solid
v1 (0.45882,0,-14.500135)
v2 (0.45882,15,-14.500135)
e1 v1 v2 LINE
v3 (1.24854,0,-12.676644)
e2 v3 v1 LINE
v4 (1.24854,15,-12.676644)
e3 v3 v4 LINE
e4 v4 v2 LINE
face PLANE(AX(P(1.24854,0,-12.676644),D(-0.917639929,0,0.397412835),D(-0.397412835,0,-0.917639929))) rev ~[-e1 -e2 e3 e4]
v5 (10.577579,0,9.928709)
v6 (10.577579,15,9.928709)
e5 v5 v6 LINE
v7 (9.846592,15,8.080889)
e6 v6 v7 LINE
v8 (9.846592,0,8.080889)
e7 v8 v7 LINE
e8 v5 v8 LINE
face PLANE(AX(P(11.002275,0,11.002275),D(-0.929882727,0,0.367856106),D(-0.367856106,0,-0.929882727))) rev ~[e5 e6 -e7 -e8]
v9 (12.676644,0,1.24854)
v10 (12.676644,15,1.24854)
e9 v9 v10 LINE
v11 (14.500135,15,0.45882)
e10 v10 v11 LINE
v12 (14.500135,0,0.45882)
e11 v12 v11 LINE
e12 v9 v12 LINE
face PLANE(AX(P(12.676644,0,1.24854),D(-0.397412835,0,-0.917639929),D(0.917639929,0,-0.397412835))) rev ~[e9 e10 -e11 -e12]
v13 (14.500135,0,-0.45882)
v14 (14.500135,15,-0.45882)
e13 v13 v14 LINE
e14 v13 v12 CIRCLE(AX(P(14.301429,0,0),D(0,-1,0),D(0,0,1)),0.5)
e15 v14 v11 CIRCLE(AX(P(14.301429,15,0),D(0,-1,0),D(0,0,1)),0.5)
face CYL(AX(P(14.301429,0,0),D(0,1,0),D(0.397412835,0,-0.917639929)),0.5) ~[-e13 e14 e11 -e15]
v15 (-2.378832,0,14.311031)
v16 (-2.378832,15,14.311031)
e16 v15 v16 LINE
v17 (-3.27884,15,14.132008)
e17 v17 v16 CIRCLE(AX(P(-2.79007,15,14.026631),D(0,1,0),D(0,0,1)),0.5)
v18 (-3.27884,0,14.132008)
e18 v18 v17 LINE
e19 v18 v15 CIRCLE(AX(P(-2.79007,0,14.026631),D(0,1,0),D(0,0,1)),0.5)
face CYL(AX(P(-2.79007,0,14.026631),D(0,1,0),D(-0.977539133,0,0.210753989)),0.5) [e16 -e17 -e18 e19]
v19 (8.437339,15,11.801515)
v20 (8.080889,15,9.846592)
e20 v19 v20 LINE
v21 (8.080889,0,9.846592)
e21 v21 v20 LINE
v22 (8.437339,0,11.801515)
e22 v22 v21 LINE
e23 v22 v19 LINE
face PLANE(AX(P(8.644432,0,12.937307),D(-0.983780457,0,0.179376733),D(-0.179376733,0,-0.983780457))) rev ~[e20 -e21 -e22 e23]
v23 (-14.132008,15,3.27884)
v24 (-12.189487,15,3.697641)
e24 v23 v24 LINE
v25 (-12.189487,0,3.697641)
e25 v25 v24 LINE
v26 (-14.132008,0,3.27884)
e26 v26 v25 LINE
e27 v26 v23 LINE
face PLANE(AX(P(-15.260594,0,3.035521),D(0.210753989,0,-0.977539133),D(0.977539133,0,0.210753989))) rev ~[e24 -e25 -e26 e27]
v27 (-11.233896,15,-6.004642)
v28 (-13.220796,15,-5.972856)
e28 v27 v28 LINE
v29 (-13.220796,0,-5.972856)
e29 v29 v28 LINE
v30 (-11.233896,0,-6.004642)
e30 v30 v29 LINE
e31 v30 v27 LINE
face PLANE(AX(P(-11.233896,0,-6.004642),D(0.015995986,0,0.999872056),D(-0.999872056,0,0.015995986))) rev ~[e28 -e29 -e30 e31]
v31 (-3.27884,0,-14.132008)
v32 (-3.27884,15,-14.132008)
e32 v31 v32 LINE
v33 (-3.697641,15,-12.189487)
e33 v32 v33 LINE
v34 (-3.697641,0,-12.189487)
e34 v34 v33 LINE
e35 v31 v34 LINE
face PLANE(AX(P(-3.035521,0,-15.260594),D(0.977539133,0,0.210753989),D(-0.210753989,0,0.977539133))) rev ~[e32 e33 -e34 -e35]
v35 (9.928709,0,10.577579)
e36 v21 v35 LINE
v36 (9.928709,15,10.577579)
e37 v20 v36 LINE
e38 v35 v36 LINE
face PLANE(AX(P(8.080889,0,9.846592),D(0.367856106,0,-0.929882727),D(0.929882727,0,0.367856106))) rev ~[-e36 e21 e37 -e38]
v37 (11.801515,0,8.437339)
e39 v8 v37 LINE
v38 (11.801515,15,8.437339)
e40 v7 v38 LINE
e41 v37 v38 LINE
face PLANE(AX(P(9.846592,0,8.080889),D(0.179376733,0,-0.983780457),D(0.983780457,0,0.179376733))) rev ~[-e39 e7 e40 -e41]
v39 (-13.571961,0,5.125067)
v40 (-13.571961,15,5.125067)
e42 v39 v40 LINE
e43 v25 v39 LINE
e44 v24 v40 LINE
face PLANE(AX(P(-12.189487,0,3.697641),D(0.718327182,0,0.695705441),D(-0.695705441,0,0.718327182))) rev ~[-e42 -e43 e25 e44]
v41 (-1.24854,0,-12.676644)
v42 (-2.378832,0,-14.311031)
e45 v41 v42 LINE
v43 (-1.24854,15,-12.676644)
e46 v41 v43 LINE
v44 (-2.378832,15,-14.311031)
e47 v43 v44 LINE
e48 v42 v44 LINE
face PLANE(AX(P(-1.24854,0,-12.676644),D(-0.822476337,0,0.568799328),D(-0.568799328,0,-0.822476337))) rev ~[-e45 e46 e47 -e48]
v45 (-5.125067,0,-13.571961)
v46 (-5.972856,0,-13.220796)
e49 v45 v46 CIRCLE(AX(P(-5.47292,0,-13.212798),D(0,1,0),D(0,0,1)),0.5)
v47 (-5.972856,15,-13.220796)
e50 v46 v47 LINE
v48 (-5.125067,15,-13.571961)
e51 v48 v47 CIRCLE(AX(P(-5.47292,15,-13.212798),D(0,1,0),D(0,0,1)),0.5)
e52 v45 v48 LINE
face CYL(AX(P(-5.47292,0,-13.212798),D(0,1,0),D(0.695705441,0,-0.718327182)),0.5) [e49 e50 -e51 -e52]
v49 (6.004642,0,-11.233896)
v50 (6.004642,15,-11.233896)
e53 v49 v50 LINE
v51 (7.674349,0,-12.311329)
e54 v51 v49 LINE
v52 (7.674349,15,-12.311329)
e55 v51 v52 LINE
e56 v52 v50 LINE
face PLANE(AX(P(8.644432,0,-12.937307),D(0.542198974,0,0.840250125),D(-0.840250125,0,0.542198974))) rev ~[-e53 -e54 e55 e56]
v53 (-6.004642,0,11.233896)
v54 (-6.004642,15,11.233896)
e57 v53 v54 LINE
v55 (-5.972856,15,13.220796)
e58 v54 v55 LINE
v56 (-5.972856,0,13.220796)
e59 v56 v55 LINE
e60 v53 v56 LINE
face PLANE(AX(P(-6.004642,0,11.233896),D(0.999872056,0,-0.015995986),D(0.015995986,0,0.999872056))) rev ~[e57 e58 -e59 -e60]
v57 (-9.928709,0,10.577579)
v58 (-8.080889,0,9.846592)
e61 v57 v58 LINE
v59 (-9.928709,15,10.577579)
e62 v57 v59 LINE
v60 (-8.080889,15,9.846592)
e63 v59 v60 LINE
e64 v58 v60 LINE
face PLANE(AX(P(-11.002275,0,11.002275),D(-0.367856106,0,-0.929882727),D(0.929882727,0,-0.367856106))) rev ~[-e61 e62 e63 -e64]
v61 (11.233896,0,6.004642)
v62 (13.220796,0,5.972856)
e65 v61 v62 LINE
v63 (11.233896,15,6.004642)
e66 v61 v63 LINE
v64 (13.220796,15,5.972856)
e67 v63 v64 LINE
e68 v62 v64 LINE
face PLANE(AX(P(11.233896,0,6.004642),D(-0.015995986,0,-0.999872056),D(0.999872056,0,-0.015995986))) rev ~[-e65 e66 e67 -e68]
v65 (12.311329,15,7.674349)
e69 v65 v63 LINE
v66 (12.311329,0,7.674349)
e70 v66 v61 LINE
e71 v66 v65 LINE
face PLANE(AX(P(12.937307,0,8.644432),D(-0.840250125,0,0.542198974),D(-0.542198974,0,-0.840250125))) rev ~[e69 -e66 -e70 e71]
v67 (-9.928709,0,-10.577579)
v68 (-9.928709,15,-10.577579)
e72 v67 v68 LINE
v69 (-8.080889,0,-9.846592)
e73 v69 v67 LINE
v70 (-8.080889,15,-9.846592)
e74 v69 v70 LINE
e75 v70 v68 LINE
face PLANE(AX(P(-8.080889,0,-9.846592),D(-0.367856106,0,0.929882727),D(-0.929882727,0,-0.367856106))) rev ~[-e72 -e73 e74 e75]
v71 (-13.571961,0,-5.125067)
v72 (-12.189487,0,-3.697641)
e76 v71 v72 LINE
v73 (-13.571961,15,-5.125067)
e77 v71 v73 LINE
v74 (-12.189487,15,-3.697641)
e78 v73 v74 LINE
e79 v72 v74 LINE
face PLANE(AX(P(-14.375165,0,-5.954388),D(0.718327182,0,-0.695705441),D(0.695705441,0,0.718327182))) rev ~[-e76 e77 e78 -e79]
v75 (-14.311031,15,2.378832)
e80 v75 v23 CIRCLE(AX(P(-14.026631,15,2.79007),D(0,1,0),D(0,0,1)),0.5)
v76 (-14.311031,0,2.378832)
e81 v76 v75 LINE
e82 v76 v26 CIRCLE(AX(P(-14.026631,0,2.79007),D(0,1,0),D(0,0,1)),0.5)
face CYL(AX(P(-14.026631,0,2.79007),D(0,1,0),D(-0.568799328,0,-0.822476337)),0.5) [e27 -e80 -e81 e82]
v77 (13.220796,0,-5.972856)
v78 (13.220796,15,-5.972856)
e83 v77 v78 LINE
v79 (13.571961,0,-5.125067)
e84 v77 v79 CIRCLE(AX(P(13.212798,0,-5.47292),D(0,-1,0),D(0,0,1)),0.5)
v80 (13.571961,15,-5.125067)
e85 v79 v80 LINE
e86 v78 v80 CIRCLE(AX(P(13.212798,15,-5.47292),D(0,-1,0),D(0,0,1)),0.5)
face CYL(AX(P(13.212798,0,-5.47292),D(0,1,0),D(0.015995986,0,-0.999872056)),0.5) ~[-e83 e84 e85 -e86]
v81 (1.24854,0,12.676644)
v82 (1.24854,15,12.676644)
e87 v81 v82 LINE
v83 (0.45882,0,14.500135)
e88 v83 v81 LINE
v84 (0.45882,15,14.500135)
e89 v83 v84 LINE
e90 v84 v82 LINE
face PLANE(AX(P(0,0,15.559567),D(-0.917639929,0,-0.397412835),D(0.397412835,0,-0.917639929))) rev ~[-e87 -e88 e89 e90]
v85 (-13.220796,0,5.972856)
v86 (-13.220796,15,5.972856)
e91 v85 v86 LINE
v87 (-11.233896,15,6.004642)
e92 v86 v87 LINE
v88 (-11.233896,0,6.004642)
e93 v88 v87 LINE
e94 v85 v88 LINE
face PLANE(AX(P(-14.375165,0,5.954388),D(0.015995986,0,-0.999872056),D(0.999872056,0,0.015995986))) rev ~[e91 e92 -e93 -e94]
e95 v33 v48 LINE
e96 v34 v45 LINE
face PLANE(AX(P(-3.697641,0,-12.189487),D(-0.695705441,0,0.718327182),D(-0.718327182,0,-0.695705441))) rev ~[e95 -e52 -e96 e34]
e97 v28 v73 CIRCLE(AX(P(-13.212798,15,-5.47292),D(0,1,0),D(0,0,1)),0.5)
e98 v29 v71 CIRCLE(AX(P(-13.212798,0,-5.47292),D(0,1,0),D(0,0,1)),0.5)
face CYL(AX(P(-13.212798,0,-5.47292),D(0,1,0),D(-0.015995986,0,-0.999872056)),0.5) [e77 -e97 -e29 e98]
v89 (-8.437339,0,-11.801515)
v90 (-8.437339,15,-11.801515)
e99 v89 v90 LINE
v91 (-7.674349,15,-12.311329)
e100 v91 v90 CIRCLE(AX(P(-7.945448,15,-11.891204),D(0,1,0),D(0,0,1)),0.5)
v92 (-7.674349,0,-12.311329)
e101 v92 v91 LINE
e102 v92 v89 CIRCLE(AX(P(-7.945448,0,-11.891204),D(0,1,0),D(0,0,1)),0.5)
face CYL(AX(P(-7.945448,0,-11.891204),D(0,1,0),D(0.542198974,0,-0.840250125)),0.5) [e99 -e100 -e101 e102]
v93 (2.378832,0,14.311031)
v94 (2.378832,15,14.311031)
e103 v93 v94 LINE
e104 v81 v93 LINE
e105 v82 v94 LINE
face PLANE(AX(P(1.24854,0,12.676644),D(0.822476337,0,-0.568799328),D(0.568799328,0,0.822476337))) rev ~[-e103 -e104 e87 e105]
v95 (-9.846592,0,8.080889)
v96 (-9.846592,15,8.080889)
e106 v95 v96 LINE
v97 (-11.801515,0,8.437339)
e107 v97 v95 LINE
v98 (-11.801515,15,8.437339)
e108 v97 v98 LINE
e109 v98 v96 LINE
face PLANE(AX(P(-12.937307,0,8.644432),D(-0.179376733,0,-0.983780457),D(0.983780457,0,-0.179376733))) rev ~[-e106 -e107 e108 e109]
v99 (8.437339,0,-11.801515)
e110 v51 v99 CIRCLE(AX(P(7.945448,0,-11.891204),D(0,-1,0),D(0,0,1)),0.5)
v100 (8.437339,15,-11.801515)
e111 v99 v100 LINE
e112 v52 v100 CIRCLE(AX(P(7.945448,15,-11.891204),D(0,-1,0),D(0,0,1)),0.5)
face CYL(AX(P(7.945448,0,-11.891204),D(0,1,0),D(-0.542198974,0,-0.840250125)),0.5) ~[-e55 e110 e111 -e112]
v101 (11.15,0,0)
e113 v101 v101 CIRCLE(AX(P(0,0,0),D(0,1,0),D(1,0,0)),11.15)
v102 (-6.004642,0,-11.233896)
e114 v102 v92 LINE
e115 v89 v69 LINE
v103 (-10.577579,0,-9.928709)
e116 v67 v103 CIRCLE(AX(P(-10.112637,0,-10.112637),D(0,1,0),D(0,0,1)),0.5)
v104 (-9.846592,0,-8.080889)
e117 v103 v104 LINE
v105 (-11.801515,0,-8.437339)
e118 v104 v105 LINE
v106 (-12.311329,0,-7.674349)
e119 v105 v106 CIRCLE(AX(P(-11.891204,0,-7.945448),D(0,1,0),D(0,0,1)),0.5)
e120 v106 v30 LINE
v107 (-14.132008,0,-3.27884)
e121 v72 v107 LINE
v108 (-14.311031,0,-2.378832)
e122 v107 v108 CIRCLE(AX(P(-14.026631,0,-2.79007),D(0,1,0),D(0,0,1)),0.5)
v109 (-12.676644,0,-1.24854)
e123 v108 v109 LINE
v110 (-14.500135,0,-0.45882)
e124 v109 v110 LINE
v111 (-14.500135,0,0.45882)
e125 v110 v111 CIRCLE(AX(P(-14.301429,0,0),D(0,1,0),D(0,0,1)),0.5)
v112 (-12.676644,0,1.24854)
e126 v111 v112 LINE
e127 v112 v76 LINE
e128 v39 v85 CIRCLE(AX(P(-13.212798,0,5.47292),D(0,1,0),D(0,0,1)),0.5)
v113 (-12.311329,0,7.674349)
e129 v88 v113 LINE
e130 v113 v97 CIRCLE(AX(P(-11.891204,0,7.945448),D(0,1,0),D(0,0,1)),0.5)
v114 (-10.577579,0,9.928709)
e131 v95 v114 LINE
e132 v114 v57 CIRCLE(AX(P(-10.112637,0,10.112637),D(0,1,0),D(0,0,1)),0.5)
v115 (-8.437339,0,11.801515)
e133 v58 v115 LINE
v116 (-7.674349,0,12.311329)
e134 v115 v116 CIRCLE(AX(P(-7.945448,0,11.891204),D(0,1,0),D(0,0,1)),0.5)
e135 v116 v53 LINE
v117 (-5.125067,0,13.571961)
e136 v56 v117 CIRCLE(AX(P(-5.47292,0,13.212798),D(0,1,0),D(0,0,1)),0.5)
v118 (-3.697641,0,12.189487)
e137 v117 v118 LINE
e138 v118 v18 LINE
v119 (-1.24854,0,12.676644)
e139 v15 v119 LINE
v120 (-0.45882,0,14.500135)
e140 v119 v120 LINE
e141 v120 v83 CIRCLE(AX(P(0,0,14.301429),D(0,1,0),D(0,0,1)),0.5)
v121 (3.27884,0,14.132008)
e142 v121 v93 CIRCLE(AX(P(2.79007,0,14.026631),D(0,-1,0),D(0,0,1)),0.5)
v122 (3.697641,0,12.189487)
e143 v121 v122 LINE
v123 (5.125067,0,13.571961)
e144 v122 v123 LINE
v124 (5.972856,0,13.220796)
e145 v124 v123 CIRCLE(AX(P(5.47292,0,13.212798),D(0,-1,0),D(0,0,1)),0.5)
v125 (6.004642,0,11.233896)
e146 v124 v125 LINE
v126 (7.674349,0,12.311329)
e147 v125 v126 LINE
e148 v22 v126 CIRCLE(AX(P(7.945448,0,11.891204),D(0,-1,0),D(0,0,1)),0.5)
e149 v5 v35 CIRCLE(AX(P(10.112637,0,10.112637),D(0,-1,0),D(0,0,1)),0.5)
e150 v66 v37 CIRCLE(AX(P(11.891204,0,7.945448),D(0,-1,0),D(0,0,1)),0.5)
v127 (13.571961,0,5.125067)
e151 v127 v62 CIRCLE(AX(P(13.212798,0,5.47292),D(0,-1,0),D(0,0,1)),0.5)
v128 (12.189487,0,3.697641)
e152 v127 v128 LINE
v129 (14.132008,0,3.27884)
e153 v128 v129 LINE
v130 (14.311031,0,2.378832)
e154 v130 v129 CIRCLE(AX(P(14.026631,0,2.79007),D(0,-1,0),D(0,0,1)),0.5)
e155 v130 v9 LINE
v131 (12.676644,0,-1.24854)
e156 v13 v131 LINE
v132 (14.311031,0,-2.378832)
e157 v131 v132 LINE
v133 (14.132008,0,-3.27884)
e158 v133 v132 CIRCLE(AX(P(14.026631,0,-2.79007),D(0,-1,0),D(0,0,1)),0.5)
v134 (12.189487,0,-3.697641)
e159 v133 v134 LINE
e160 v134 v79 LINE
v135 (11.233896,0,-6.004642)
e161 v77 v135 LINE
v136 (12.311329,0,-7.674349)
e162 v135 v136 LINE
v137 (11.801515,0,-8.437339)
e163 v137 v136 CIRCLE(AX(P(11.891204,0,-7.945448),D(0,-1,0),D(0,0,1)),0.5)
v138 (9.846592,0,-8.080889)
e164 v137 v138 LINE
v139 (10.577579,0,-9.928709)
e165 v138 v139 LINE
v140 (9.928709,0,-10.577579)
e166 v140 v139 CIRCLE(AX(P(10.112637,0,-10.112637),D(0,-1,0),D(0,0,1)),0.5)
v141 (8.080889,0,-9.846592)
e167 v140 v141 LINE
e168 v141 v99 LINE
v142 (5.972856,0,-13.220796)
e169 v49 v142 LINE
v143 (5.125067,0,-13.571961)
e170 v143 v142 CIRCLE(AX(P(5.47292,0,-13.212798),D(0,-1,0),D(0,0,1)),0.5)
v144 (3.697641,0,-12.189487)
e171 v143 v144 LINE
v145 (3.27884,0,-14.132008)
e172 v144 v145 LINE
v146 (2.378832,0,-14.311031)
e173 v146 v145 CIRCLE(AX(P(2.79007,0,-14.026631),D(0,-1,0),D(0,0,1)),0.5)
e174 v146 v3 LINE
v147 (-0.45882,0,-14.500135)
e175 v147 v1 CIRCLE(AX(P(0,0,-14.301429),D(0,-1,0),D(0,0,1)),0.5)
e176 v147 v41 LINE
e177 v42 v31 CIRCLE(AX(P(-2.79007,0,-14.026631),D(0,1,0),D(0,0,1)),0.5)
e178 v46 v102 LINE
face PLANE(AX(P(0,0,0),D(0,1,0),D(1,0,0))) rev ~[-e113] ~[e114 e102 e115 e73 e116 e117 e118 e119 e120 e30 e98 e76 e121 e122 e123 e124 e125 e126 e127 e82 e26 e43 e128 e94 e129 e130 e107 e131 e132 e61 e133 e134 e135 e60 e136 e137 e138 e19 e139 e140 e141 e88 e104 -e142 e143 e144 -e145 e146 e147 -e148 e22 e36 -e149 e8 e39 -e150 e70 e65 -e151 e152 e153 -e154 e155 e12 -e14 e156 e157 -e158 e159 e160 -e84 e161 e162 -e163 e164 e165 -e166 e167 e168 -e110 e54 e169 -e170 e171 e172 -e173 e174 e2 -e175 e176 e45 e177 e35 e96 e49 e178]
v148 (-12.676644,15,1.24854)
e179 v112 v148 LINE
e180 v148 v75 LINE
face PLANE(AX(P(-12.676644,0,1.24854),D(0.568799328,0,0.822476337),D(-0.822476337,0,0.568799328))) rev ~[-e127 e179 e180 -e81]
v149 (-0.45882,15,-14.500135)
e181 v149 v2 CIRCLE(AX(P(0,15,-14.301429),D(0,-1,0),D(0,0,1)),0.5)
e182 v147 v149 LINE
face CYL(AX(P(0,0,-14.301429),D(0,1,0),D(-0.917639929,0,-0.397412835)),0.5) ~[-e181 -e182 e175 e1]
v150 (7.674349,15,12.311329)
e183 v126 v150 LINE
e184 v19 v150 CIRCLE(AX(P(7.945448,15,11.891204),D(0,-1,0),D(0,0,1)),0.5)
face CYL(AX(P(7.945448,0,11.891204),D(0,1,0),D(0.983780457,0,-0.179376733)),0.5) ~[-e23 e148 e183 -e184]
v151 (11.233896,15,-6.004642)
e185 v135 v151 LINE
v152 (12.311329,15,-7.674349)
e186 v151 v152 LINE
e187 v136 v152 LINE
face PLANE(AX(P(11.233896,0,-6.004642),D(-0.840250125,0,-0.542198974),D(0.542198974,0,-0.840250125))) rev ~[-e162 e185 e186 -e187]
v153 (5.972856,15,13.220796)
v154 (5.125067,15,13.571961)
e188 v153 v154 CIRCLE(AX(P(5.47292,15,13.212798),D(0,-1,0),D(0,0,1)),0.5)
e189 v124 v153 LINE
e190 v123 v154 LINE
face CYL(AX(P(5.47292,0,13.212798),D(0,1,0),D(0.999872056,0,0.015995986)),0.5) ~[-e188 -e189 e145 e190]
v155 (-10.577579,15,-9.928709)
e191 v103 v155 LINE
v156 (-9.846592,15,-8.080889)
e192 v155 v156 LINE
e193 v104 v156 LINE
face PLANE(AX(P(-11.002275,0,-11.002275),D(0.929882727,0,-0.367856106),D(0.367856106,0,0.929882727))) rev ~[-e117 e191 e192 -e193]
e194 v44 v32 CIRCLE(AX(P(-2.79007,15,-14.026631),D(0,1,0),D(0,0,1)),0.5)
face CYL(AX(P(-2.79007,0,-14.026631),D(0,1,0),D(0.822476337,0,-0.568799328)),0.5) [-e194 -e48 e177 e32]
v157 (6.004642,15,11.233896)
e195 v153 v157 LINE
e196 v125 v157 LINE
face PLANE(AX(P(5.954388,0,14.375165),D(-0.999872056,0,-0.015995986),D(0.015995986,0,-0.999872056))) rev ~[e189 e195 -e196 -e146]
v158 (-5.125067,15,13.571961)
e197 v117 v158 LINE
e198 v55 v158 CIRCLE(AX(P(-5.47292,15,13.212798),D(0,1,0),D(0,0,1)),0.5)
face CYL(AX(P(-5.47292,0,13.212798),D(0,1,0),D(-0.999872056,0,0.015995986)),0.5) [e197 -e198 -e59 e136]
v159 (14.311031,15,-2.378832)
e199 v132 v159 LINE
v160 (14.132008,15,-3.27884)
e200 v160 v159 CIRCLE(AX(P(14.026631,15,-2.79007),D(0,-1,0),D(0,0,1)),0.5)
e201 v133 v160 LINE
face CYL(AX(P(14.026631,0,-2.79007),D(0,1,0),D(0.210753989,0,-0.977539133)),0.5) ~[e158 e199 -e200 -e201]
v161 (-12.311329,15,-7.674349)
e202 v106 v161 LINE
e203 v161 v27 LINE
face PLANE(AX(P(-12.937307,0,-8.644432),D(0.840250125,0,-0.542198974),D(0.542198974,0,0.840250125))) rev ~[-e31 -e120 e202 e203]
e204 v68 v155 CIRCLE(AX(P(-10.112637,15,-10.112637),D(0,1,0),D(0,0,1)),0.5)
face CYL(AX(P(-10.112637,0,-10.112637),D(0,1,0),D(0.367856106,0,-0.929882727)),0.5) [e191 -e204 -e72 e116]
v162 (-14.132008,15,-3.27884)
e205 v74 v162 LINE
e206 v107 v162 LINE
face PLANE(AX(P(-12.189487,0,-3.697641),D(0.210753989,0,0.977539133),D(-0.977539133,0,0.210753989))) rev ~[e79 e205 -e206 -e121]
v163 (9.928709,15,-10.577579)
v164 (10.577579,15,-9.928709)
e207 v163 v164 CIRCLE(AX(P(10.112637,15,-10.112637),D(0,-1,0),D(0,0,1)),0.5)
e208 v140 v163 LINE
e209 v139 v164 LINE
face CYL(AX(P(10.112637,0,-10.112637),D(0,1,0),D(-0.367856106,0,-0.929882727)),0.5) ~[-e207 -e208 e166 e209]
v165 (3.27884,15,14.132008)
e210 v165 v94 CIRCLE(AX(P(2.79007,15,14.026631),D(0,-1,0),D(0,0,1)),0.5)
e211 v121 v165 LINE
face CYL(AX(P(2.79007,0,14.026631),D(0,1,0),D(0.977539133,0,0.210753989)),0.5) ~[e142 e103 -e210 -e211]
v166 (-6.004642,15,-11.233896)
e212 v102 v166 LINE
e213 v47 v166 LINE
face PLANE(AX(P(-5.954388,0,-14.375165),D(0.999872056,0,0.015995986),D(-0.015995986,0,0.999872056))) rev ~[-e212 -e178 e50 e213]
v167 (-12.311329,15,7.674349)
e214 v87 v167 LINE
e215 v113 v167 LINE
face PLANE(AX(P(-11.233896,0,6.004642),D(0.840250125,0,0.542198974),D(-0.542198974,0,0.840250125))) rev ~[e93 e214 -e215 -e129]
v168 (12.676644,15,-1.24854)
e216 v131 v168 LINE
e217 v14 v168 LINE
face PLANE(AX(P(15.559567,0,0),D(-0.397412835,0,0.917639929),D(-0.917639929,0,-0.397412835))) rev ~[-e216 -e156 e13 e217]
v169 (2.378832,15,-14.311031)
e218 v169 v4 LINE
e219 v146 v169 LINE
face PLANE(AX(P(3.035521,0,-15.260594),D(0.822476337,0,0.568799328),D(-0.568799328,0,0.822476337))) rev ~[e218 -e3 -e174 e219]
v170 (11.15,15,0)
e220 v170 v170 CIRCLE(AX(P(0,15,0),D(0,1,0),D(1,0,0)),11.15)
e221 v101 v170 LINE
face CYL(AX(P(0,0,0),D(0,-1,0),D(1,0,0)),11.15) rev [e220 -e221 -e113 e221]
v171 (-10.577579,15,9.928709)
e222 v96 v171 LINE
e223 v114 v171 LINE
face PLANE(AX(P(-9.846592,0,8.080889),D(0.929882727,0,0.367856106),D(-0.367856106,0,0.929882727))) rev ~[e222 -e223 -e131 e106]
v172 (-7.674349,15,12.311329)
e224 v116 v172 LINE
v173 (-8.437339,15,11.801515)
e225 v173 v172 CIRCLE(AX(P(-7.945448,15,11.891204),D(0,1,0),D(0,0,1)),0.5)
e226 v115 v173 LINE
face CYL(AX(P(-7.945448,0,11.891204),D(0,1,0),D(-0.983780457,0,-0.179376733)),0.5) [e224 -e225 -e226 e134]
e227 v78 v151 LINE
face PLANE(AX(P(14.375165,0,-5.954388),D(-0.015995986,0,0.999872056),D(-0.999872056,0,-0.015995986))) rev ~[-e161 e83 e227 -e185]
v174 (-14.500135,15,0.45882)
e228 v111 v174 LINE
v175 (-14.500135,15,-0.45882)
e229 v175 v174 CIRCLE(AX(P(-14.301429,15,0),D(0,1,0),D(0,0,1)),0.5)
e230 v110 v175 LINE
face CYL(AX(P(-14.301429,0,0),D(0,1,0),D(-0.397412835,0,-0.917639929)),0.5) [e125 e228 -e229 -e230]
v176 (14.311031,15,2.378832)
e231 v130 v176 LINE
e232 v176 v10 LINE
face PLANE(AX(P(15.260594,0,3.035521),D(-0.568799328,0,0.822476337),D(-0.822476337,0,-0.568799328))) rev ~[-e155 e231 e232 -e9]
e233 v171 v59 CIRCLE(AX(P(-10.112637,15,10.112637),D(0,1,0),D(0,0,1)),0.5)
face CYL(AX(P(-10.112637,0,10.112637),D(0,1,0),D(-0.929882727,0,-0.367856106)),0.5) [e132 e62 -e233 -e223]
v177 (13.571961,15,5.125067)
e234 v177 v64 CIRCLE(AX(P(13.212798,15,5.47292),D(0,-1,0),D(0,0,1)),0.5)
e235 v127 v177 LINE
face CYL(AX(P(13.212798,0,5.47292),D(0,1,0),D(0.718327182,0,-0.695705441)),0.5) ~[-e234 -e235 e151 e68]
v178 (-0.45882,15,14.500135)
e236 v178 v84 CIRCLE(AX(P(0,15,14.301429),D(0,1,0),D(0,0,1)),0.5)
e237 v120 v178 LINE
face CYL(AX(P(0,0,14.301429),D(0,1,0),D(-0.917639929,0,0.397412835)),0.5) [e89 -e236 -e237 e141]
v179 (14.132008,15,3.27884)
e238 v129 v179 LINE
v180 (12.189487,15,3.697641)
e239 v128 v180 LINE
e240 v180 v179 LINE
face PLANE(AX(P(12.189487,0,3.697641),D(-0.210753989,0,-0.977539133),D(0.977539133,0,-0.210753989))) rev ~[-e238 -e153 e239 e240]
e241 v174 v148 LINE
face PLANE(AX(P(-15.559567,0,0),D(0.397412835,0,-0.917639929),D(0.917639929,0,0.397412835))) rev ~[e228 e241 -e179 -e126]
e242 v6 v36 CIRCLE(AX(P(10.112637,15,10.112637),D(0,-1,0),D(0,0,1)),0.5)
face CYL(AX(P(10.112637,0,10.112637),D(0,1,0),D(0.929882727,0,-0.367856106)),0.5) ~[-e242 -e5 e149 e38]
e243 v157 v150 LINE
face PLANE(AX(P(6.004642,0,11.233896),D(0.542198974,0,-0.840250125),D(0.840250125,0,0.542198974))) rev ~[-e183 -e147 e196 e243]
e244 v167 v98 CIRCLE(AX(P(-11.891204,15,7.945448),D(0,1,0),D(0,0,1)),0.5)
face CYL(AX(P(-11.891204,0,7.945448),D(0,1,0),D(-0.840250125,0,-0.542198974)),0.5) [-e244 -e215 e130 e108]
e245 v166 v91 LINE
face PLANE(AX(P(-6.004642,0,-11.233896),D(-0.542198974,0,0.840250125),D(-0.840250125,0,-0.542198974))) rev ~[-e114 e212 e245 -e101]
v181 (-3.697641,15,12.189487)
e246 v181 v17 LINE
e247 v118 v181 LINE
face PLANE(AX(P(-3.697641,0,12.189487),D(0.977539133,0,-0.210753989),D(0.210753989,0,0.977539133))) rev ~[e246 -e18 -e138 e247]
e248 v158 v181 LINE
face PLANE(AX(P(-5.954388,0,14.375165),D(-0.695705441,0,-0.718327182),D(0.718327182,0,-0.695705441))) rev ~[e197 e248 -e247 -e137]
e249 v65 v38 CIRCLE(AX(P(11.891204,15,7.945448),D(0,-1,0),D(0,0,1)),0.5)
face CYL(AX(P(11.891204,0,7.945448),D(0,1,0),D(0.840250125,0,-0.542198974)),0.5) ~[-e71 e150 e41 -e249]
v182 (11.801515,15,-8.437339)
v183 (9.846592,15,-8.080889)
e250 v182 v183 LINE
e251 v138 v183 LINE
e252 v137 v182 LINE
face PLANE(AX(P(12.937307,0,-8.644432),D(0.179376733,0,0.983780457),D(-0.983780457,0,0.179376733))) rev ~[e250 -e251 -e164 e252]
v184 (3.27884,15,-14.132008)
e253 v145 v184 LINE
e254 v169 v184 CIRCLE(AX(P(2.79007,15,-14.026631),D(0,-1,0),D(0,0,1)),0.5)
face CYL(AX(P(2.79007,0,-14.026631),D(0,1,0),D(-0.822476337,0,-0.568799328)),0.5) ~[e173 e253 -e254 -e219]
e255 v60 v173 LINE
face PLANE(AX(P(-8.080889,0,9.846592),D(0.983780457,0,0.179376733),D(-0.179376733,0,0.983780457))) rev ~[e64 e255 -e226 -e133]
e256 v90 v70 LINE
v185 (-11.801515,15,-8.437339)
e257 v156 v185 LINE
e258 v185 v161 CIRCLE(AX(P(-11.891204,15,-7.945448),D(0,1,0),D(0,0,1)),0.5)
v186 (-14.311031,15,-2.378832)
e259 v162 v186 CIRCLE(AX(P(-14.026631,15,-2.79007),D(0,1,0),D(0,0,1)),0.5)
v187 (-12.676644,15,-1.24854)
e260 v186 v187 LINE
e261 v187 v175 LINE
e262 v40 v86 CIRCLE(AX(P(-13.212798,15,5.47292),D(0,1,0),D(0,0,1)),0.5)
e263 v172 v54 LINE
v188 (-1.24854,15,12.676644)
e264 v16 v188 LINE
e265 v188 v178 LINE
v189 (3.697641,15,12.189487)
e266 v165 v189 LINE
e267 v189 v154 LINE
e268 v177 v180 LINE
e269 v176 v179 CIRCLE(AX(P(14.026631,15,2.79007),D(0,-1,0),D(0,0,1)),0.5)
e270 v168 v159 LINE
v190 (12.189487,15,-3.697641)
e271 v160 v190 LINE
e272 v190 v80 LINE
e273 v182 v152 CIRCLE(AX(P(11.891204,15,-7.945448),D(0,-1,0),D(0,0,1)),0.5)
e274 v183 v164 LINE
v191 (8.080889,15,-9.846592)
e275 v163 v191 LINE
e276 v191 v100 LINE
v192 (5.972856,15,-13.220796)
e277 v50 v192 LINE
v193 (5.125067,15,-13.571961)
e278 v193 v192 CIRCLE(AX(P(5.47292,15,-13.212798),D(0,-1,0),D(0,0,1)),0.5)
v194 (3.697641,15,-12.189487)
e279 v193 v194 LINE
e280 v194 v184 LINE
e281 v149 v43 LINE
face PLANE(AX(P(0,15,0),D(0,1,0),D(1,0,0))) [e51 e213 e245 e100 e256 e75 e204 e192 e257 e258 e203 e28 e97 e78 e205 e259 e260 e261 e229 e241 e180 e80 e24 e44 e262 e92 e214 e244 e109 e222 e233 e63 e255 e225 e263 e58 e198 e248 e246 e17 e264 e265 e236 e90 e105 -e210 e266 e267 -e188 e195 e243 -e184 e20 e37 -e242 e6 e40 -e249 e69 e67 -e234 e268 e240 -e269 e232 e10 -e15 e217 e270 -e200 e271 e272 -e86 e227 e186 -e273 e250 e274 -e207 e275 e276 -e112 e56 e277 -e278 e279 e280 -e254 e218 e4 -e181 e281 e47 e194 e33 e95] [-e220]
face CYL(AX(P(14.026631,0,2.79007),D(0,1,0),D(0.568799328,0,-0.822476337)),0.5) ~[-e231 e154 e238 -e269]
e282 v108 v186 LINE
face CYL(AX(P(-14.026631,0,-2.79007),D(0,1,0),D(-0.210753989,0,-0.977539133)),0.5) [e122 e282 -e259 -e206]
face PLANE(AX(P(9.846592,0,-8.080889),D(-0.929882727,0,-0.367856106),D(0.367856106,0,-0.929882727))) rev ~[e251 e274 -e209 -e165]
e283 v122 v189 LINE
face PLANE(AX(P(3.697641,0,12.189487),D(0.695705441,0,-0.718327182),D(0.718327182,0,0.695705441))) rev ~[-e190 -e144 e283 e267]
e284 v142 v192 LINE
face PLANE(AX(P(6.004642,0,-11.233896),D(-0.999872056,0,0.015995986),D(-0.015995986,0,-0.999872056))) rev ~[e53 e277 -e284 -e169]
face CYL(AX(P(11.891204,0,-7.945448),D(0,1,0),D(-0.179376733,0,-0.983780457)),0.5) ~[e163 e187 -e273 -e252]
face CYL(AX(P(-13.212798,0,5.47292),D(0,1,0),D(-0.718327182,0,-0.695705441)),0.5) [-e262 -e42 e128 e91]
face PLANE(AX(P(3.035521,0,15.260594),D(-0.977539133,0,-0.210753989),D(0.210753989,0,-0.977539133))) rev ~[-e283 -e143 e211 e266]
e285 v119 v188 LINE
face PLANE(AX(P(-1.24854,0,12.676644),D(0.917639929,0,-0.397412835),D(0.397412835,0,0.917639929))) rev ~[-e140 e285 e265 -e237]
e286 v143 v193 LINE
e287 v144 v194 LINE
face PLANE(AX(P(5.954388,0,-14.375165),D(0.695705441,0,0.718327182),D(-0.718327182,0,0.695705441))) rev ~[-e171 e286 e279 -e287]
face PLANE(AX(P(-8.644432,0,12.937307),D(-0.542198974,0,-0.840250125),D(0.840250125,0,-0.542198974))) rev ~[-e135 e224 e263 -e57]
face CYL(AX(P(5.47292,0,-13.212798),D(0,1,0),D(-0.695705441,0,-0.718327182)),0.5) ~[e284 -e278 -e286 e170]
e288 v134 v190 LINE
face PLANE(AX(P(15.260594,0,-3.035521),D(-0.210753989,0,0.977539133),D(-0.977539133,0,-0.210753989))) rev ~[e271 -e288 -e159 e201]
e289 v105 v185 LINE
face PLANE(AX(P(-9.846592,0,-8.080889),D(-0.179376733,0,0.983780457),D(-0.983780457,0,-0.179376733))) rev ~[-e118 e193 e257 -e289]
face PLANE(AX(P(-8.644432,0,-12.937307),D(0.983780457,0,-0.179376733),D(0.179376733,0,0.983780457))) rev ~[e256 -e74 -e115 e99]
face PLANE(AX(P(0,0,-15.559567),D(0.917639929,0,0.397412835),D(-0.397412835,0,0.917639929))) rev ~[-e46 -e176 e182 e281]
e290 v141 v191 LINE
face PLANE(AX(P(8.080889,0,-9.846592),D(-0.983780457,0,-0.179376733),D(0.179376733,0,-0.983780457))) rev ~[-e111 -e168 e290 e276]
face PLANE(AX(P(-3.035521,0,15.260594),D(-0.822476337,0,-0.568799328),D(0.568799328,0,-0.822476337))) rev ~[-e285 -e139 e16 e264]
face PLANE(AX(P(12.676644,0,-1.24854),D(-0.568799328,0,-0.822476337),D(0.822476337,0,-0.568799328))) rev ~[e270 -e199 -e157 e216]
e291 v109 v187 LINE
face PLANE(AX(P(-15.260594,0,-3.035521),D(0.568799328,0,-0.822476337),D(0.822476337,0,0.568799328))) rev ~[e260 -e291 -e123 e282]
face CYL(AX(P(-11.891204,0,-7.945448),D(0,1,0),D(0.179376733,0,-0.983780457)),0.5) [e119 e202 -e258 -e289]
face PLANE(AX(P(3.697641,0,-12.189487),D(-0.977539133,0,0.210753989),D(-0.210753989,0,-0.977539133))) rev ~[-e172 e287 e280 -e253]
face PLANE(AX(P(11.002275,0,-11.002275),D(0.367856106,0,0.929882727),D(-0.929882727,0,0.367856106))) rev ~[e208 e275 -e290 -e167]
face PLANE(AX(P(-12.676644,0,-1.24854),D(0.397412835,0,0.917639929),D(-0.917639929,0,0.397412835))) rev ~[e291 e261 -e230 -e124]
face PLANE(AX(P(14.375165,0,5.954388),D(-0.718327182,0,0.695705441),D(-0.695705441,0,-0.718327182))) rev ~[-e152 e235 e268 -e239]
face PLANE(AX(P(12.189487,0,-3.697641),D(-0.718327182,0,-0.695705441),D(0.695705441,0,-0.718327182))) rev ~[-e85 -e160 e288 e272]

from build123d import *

# Parameters (mm, degrees)
SKETCH1_R           = 11.15
BOSS_EXTRUDE1_DEPTH = 15
FILLET1_R           = 0.5


with BuildPart() as part:
    # Sketch1 → Boss-Extrude1 (new body)
    with BuildSketch(Plane(origin=(0, 0, 0), x_dir=(1, 0, 0), z_dir=(0, 1, 0))):
        Polygon((0, 15.55956659), (-1.24854043, 12.676643718), (-3.035520856, 15.260593881), (-3.69764058, 12.189487409), (-5.954388349, 14.375165107), (-6.004642477, 11.233895935), (-8.644432036, 12.9373068), (-8.080889331, 9.84659214), (-11.002275048, 11.002275048), (-9.84659214, 8.080889331), (-12.9373068, 8.644432036), (-11.233895935, 6.004642477), (-14.375165107, 5.954388349), (-12.189487409, 3.69764058), (-15.260593881, 3.035520856), (-12.676643718, 1.24854043), (-15.55956659, 0), (-12.676643718, -1.24854043), (-15.260593881, -3.035520856), (-12.189487409, -3.69764058), (-14.375165107, -5.954388349), (-11.233895935, -6.004642477), (-12.9373068, -8.644432036), (-9.84659214, -8.080889331), (-11.002275048, -11.002275048), (-8.080889331, -9.84659214), (-8.644432036, -12.9373068), (-6.004642477, -11.233895935), (-5.954388349, -14.375165107), (-3.69764058, -12.189487409), (-3.035520856, -15.260593881), (-1.24854043, -12.676643718), (0, -15.55956659), (1.24854043, -12.676643718), (3.035520856, -15.260593881), (3.69764058, -12.189487409), (5.954388349, -14.375165107), (6.004642477, -11.233895935), (8.644432036, -12.9373068), (8.080889331, -9.84659214), (11.002275048, -11.002275048), (9.84659214, -8.080889331), (12.9373068, -8.644432036), (11.233895935, -6.004642477), (14.375165107, -5.954388349), (12.189487409, -3.69764058), (15.260593881, -3.035520856), (12.676643718, -1.24854043), (15.55956659, 0), (12.676643718, 1.24854043), (15.260593881, 3.035520856), (12.189487409, 3.69764058), (14.375165107, 5.954388349), (11.233895935, 6.004642477), (12.9373068, 8.644432036), (9.84659214, 8.080889331), (11.002275048, 11.002275048), (8.080889331, 9.84659214), (8.644432036, 12.9373068), (6.004642477, 11.233895935), (5.954388349, 14.375165107), (3.69764058, 12.189487409), (3.035520856, 15.260593881), (1.24854043, 12.676643718), align=None)
        Circle(SKETCH1_R, mode=Mode.SUBTRACT)
    extrude(amount=BOSS_EXTRUDE1_DEPTH)

    # Fillet1
    fillet1_edges = [part.edges().sort_by_distance(p)[0] for p in [
        (0, 7.5, -15.55956659),
        (3.035520856, 7.5, -15.260593881),
        (5.954388349, 7.5, -14.375165107),
        (8.644432036, 7.5, -12.9373068),
        (11.002275048, 7.5, -11.002275048),
        (12.9373068, 7.5, -8.644432036),
        (14.375165107, 7.5, -5.954388349),
        (15.260593881, 7.5, -3.035520856),
        (15.55956659, 7.5, 0),
        (15.260593881, 7.5, 3.035520856),
        (14.375165107, 7.5, 5.954388349),
        (12.9373068, 7.5, 8.644432036),
        (11.002275048, 7.5, 11.002275048),
        (8.644432036, 7.5, 12.9373068),
        (5.954388349, 7.5, 14.375165107),
        (3.035520856, 7.5, 15.260593881),
        (0, 7.5, 15.55956659),
        (-3.035520856, 7.5, 15.260593881),
        (-5.954388349, 7.5, 14.375165107),
        (-8.644432036, 7.5, 12.9373068),
        (-11.002275048, 7.5, 11.002275048),
        (-12.9373068, 7.5, 8.644432036),
        (-14.375165107, 7.5, 5.954388349),
        (-15.260593881, 7.5, 3.035520856),
        (-15.55956659, 7.5, 0),
        (-15.260593881, 7.5, -3.035520856),
        (-14.375165107, 7.5, -5.954388349),
        (-12.9373068, 7.5, -8.644432036),
        (-11.002275048, 7.5, -11.002275048),
        (-8.644432036, 7.5, -12.9373068),
        (-5.954388349, 7.5, -14.375165107),
        (-3.035520856, 7.5, -15.260593881),
    ]]
    fillet(fillet1_edges, radius=FILLET1_R)


solid = part.part
